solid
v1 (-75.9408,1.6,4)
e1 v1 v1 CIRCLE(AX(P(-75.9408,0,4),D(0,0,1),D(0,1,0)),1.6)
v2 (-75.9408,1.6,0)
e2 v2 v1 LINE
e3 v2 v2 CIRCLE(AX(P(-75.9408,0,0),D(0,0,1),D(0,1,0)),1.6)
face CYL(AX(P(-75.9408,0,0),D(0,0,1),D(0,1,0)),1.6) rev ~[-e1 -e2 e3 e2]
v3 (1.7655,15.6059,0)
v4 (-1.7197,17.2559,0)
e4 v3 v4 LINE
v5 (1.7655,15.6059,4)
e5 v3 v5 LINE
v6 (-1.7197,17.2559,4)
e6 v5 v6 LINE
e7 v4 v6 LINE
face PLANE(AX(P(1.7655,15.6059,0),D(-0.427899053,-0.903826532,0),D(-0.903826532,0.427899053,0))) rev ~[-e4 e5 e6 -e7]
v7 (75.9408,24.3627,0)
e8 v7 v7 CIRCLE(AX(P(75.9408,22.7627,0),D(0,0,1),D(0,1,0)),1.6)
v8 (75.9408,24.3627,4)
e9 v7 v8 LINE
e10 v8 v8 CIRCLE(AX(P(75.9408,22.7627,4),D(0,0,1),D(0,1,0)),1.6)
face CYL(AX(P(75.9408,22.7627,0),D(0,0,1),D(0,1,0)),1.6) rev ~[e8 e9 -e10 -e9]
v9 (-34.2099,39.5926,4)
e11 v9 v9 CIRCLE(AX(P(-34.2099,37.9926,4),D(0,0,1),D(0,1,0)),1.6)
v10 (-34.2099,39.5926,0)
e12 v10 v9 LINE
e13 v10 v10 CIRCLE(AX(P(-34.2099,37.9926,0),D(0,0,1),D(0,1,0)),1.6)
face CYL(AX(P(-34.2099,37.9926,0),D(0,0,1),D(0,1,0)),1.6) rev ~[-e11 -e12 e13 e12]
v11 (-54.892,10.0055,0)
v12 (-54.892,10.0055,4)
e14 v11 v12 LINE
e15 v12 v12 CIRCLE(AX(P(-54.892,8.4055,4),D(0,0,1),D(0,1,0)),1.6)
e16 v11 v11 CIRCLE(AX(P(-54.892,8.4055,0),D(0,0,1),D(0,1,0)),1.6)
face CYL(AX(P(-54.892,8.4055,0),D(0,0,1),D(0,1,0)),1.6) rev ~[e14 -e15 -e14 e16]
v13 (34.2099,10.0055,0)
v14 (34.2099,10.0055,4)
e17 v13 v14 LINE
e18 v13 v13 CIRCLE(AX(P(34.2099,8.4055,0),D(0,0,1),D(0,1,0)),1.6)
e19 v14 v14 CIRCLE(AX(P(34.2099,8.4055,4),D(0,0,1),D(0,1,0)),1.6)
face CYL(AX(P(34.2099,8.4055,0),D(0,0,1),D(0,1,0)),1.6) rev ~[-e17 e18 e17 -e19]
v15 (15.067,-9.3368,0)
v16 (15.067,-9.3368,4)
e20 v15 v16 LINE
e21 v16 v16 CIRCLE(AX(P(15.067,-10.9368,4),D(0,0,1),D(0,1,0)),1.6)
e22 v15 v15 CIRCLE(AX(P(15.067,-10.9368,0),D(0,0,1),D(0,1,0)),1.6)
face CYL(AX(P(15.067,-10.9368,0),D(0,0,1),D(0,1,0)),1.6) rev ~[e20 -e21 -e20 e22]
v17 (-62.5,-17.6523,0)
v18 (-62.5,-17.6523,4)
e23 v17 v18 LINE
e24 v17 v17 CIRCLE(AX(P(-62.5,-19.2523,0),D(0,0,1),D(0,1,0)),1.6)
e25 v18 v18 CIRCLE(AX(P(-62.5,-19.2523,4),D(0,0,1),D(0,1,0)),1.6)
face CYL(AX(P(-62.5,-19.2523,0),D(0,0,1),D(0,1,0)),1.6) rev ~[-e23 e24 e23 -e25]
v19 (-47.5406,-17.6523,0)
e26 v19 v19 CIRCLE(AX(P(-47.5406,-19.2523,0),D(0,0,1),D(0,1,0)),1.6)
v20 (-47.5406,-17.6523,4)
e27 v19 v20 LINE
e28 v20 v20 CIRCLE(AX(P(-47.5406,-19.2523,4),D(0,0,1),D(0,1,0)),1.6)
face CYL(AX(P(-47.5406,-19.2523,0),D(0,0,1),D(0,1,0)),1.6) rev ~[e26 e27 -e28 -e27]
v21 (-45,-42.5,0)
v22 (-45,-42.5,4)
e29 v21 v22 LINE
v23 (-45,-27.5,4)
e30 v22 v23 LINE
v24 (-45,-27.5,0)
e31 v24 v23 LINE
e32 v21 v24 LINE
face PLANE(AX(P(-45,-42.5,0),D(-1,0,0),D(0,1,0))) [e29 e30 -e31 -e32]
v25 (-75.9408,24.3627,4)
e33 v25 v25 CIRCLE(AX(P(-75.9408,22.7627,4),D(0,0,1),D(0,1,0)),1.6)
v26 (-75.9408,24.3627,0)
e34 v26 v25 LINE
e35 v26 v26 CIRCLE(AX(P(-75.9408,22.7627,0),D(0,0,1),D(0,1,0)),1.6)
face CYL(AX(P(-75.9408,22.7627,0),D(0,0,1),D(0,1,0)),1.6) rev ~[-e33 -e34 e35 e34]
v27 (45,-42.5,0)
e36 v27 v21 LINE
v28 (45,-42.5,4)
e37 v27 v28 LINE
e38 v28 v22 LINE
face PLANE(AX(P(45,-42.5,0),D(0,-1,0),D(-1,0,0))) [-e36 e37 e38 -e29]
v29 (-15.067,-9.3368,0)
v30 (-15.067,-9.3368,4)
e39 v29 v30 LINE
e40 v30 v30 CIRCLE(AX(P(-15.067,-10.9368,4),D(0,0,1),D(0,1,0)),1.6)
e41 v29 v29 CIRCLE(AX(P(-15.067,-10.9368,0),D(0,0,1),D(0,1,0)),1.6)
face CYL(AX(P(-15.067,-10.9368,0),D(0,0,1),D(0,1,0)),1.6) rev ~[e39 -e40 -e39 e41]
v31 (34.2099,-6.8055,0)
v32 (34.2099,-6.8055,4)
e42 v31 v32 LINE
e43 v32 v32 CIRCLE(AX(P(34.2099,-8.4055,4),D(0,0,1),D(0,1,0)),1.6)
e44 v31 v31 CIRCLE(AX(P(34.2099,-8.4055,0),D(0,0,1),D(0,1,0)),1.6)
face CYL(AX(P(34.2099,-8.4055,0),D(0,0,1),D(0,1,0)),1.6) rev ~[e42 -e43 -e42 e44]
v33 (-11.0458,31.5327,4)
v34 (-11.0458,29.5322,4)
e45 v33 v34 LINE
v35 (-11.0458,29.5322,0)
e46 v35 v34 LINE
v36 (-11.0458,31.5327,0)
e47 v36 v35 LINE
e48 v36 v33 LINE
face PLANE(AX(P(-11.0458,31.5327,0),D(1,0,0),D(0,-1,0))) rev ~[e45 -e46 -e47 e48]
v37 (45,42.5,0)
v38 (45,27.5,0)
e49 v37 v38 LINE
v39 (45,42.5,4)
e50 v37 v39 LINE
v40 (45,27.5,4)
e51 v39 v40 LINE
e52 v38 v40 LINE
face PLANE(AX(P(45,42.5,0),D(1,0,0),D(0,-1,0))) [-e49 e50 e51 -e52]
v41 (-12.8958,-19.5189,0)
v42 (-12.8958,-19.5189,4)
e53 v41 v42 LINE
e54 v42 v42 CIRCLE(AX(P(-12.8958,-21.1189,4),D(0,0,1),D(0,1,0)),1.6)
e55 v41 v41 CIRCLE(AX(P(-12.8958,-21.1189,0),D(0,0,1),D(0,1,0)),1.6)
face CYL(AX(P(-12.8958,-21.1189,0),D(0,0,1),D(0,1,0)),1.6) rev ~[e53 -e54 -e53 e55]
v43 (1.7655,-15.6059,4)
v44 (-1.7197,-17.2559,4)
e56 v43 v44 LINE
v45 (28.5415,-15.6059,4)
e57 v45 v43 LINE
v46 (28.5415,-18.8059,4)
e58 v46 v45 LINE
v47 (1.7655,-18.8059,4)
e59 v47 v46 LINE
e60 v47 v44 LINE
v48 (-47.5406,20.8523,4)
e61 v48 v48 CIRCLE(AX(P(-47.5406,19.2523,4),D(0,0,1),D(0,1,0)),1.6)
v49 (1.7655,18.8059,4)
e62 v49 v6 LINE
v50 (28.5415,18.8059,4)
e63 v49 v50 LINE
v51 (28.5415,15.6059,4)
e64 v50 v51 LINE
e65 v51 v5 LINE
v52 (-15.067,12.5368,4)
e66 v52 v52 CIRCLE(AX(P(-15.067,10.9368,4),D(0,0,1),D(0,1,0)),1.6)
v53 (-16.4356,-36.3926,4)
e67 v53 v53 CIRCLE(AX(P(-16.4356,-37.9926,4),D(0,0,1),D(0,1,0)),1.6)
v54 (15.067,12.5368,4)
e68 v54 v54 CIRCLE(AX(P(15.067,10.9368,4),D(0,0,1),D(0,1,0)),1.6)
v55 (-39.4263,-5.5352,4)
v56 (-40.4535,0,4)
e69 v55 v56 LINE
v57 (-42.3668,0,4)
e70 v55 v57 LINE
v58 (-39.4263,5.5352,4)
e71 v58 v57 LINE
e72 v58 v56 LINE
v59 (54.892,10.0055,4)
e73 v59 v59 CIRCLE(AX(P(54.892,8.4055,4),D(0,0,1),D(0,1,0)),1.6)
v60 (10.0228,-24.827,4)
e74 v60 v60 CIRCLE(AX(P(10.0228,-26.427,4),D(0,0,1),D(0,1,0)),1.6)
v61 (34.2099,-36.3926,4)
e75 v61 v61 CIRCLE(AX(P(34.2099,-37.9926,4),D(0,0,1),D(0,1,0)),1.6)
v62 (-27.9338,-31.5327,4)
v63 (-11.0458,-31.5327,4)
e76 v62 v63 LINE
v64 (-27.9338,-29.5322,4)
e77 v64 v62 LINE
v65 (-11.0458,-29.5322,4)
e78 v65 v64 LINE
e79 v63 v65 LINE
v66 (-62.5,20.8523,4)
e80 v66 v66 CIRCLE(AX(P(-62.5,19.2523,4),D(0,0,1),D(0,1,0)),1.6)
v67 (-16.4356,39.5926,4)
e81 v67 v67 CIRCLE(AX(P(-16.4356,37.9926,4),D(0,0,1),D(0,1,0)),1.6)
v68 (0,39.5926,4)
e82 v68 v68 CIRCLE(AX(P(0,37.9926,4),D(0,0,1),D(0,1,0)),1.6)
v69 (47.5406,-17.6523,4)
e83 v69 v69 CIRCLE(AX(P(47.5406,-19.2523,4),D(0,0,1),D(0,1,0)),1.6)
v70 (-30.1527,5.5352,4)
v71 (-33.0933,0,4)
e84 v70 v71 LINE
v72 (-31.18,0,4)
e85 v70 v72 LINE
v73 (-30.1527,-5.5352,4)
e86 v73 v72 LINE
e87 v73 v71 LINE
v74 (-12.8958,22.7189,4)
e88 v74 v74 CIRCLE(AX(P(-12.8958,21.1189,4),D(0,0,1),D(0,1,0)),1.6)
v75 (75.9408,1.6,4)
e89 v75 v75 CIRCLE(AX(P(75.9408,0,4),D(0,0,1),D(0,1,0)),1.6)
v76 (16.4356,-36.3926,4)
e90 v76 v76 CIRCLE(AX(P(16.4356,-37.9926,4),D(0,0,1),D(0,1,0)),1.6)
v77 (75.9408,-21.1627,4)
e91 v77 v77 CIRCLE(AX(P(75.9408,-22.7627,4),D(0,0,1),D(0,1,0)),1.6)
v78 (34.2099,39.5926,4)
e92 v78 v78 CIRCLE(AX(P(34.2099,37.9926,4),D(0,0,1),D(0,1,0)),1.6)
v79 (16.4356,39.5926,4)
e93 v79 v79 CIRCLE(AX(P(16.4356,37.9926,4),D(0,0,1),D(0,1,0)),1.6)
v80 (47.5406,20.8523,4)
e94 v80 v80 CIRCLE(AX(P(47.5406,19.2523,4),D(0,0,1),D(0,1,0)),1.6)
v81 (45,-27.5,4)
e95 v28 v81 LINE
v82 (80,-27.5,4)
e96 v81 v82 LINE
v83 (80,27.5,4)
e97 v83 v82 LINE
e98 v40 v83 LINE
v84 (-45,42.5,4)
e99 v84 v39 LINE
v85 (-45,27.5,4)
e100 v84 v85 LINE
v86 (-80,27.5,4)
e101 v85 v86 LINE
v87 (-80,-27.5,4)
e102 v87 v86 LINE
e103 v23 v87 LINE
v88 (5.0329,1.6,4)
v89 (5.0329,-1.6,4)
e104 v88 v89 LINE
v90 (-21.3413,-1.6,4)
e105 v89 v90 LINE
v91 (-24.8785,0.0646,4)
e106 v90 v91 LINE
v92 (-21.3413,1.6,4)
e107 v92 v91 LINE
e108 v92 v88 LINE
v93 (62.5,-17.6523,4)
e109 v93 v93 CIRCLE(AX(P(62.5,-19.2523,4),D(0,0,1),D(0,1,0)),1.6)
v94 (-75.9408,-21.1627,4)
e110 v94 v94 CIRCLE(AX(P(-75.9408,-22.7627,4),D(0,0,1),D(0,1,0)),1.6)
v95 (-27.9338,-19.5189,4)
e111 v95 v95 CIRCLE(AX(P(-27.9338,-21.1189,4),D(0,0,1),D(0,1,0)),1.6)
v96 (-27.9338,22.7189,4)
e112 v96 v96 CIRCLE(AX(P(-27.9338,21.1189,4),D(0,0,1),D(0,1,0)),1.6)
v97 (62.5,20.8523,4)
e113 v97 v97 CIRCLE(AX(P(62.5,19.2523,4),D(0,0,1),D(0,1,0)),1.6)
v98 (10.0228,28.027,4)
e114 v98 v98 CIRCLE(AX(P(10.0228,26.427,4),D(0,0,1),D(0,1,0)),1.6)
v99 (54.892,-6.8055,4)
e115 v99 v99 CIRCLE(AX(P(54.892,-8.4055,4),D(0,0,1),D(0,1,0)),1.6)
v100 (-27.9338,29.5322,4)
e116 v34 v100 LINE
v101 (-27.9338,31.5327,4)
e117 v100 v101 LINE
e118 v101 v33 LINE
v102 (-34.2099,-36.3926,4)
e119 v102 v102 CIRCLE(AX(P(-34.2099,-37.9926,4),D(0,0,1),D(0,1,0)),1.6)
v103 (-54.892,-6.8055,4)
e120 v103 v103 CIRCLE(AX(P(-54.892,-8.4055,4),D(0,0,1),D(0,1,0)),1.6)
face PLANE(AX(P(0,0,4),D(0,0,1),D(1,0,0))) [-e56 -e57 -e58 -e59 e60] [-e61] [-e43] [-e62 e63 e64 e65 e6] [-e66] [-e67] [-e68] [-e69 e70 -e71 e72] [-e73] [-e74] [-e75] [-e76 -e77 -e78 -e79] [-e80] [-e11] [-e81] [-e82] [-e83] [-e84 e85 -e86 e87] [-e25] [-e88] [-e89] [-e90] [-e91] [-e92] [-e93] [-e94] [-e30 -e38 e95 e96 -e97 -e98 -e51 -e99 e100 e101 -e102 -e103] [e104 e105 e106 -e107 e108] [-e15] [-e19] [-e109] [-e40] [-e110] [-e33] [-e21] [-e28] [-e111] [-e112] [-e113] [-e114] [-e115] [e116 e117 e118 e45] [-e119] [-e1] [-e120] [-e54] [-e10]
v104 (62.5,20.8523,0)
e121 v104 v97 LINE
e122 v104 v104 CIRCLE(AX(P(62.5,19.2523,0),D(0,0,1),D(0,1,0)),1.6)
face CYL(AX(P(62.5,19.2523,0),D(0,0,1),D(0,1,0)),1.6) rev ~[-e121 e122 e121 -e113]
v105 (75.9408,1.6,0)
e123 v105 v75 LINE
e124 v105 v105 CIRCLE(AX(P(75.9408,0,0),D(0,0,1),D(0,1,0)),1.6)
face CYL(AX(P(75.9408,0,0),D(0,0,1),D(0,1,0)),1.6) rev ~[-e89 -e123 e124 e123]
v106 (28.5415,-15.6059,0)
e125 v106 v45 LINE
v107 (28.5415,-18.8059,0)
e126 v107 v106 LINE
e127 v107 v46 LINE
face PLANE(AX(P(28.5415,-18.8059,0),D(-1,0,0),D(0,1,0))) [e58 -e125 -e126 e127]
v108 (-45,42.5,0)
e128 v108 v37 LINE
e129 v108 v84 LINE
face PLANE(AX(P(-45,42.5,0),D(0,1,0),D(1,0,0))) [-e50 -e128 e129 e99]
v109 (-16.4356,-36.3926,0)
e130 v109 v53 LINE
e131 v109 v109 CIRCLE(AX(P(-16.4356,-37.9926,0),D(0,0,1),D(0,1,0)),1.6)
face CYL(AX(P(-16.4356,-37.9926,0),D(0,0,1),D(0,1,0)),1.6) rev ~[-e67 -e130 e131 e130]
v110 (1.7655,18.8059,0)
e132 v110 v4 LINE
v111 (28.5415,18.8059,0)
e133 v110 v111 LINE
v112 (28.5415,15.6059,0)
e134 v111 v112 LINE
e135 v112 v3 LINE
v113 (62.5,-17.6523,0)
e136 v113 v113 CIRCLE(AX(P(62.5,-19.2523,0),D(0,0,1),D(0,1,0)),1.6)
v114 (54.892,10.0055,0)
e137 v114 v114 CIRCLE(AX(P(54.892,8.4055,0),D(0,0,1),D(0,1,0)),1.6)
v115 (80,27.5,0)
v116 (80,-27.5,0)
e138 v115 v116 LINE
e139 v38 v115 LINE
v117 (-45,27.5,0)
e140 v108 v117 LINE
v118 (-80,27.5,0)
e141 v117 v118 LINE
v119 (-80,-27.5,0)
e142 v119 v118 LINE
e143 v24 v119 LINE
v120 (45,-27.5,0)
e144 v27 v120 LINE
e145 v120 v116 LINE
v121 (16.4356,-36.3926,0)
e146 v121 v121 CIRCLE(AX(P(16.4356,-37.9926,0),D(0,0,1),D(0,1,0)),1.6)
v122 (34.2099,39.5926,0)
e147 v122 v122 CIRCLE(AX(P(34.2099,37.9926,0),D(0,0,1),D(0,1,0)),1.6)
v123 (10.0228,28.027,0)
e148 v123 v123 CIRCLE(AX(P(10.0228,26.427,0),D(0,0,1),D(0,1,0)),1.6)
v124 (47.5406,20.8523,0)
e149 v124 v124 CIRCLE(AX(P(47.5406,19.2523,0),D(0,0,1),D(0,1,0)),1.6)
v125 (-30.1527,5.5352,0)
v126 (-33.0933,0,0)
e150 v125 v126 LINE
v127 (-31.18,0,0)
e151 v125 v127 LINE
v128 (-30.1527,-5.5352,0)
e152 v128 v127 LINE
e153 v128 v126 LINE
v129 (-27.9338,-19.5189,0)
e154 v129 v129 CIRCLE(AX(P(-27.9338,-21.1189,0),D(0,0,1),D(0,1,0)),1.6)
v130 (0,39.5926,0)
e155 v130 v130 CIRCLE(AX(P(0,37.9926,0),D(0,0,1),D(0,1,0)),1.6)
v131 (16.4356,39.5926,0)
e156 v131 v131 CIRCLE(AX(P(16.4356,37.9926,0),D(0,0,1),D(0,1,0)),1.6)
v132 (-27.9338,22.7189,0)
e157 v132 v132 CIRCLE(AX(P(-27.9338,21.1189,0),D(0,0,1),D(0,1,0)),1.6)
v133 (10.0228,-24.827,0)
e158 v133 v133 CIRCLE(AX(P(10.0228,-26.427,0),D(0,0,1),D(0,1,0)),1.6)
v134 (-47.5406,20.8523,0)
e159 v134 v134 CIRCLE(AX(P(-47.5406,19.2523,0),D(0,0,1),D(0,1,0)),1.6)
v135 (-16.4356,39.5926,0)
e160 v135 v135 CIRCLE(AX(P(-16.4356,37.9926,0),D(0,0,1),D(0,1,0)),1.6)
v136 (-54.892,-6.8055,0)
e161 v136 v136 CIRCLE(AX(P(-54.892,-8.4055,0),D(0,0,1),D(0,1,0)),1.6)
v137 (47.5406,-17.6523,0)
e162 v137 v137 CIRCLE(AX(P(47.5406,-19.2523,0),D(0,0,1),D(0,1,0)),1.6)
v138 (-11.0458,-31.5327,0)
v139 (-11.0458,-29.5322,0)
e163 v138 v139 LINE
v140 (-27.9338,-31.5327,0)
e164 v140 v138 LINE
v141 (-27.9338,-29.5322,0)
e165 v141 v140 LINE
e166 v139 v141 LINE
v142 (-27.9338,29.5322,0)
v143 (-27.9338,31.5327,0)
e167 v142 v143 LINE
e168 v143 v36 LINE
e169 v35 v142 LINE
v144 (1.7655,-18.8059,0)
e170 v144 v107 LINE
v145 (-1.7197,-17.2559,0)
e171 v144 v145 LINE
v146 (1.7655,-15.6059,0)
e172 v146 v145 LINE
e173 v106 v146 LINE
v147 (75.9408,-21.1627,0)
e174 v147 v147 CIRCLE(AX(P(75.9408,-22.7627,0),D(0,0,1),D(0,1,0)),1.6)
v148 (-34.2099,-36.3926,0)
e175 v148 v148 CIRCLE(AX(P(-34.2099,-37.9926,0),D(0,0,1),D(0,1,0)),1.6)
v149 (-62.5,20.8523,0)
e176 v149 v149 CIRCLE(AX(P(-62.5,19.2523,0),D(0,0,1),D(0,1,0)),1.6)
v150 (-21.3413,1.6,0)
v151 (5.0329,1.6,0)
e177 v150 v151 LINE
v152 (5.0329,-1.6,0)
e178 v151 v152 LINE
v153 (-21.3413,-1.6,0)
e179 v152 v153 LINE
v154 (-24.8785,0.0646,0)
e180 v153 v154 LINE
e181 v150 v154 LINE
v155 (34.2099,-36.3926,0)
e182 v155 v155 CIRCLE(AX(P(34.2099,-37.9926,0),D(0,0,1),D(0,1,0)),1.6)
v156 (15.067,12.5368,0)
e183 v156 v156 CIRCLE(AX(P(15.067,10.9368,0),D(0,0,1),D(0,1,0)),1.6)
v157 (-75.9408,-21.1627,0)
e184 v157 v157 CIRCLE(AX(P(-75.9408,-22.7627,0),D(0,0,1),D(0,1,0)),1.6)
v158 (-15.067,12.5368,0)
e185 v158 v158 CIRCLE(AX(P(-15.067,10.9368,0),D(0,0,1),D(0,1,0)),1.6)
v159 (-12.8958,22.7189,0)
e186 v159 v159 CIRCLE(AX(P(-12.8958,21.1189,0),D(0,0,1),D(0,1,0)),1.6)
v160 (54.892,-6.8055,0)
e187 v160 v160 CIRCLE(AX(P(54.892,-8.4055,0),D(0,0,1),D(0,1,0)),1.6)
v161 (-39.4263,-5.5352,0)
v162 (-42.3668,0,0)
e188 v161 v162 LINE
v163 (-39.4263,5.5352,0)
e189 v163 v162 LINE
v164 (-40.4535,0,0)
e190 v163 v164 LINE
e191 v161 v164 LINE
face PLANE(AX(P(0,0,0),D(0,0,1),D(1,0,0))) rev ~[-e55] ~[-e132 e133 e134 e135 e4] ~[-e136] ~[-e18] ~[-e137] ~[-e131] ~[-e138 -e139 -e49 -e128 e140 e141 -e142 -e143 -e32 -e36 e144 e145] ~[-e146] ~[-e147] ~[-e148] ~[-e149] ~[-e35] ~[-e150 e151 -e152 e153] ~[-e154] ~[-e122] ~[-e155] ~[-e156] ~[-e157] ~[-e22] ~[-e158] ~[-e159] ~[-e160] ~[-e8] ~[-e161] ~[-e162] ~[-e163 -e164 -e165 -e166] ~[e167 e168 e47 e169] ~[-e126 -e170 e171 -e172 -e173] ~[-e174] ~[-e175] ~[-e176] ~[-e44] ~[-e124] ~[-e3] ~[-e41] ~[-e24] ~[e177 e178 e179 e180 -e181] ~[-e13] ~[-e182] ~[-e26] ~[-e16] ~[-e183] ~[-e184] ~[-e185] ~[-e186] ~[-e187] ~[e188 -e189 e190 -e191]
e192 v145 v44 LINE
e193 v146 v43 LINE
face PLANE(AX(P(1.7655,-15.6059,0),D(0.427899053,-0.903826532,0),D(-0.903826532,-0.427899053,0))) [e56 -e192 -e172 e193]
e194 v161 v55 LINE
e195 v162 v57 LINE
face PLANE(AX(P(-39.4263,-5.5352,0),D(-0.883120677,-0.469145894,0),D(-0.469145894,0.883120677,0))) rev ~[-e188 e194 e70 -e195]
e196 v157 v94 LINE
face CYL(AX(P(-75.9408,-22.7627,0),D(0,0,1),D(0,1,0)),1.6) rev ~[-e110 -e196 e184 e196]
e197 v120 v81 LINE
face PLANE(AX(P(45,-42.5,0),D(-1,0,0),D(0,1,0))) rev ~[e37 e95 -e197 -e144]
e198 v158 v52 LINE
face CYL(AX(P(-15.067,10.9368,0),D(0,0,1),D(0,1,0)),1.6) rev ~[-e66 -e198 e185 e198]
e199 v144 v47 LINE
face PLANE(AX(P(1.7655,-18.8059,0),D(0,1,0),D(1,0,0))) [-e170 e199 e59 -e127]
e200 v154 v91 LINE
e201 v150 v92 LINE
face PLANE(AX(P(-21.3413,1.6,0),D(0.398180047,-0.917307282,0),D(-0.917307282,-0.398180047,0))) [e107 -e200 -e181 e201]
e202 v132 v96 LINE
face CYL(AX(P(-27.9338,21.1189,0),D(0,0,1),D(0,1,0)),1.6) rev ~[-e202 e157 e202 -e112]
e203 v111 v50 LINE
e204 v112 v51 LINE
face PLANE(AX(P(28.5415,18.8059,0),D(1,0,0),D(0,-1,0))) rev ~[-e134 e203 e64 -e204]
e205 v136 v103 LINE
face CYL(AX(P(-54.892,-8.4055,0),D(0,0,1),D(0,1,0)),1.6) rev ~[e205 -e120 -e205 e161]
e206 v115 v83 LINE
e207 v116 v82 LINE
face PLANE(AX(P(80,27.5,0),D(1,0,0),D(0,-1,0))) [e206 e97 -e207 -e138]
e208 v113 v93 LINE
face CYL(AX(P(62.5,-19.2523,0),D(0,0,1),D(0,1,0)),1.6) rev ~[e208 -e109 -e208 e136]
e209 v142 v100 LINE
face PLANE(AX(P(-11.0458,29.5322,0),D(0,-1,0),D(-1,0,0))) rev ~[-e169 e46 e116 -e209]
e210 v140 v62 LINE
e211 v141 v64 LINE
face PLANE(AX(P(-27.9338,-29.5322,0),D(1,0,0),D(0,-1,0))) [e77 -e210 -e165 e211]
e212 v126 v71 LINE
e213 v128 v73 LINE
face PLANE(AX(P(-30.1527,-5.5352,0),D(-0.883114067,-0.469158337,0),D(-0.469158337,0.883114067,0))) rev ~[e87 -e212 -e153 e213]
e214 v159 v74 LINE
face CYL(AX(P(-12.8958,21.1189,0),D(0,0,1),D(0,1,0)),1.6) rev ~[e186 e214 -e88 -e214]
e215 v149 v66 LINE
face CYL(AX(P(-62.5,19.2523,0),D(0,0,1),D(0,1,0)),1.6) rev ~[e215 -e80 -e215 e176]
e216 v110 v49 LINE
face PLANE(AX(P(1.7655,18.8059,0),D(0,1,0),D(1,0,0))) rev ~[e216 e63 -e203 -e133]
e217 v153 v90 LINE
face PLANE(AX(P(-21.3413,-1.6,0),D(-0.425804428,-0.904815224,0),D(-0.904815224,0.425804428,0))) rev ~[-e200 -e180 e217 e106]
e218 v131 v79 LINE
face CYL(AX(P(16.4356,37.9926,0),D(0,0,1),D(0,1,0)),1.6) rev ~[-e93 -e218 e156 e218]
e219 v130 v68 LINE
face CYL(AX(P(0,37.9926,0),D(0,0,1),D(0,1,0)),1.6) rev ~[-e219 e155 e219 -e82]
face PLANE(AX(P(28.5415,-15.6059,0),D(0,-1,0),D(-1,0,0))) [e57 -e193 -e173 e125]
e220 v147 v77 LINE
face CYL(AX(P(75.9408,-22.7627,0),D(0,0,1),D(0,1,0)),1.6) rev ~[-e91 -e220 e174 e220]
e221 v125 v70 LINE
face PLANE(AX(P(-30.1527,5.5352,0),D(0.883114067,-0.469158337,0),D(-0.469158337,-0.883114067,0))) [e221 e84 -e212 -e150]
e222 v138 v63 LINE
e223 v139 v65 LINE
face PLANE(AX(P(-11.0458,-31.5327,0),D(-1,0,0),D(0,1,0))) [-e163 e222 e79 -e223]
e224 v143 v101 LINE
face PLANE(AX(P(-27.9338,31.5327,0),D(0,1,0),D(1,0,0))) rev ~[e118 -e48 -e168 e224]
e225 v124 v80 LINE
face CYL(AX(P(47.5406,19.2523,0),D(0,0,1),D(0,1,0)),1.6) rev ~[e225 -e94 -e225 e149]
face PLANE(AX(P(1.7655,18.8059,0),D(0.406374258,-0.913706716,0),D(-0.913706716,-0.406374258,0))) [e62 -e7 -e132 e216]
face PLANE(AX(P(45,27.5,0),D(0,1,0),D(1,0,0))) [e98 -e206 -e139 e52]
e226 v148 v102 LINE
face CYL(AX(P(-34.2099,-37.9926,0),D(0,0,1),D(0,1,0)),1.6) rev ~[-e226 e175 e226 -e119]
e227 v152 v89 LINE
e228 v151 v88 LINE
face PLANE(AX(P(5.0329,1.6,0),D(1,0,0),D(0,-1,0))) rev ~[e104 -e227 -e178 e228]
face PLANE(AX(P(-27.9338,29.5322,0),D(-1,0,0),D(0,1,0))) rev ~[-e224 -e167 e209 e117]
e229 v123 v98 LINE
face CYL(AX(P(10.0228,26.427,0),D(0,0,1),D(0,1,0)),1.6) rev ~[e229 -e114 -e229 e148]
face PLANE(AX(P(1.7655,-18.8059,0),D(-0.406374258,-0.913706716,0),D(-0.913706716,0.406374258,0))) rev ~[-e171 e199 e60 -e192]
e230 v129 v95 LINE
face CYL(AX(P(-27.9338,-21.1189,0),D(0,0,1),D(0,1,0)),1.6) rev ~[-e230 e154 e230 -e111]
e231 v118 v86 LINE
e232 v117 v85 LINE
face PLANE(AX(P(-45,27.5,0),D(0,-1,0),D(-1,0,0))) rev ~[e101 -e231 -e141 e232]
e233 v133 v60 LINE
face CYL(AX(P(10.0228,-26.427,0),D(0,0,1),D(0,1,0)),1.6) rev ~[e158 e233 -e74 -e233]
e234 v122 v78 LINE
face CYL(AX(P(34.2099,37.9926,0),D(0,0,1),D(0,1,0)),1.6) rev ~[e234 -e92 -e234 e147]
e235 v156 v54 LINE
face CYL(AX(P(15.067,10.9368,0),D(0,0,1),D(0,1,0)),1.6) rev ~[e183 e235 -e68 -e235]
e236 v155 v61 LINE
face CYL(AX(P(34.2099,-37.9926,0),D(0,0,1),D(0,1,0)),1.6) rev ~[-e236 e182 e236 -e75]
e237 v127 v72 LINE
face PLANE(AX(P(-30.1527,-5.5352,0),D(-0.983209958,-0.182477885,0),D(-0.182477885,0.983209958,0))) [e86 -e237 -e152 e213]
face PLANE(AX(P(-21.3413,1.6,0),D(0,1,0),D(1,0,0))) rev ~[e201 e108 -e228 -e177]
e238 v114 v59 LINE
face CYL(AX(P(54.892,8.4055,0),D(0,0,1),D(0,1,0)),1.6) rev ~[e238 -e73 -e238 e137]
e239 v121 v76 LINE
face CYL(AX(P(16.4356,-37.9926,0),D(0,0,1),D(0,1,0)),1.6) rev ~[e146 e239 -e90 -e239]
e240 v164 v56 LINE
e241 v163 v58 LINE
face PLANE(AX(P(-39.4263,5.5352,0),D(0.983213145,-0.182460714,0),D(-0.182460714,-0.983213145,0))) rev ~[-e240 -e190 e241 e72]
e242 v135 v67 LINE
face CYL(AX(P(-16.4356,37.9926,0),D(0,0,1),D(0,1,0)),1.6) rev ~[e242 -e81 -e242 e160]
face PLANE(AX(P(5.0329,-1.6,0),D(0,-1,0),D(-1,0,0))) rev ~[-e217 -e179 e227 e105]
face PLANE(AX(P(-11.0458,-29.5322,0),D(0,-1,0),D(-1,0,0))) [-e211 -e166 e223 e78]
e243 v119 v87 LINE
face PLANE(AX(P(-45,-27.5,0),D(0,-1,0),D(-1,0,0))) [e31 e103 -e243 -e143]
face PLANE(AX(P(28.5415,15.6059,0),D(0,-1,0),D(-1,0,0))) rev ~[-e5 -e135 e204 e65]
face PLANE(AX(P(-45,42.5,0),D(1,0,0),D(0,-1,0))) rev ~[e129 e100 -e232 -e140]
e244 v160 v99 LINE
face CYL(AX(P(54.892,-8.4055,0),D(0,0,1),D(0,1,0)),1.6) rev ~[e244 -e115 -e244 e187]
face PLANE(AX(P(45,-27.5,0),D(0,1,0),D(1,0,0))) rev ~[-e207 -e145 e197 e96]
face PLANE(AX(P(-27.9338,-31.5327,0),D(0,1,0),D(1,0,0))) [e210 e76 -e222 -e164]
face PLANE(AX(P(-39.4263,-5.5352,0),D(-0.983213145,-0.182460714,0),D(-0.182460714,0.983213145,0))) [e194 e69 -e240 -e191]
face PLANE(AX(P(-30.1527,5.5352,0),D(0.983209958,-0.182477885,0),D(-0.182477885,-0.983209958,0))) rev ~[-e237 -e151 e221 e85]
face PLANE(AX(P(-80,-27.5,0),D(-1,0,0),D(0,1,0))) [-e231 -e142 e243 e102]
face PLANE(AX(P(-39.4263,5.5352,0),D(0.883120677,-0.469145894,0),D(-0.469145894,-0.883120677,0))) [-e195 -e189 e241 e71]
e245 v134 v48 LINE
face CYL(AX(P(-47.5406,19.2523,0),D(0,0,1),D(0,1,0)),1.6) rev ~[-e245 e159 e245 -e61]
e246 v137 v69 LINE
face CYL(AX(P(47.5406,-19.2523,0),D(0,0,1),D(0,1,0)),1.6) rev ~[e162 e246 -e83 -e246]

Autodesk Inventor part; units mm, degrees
ref_plane "YZ Plane" through (0, 0, 0) normal (1, 0, 0) x (0, 1, 0)
ref_plane "XZ Plane" through (0, 0, 0) normal (0, 1, 0) x (-1, 0, 0)
ref_plane "XY Plane" through (0, 0, 0) normal (0, 0, 1) x (1, 0, 0)
sketch "草图1" plane through (0, 0, 0) normal (0, 0, 1) x (1, 0, 0)
  line L0 (45, -42.5) -> (-45, -42.5)
  line L1 (-80, -27.5) -> (-80, 27.5)
  line L2 (-45, 42.5) -> (45, 42.5)
  line L3 (80, 27.5) -> (80, -27.5)
  line L4 (80, -42.5) -> (-80, 42.5) construction
  line L5 (-80, -42.5) -> (80, 42.5) construction
  line L6 (-80, -42.5) -> (-45, -42.5) construction
  line L7 (-45, -42.5) -> (-45, -27.5)
  line L8 (-45, -27.5) -> (-80, -27.5)
  line L9 (-80, -27.5) -> (-80, -42.5) construction
  line L10 (0, 0) -> (-55.8676, 0) construction
  line L11 (0, 0) -> (0, 33.8788) construction
  line L12 (-45, 42.5) -> (-45, 27.5)
  line L13 (-45, 27.5) -> (-80, 27.5)
  line L14 (45, -42.5) -> (45, -27.5)
  line L15 (45, -27.5) -> (80, -27.5)
  line L16 (45, 27.5) -> (80, 27.5)
  line L17 (45, 42.5) -> (45, 27.5)
  line L18 (-39.4263, 5.5352) -> (-42.3668, 0)
  line L19 (-30.1527, 5.5352) -> (-33.0933, 0)
  line L20 (-39.4263, -5.5352) -> (-42.3668, 0)
  line L21 (-30.1527, -5.5352) -> (-33.0933, 0)
  line L22 (-39.4263, 5.5352) -> (-40.4535, 0)
  line L23 (-30.1527, 5.5352) -> (-31.18, 0)
  line L24 (-39.4263, -5.5352) -> (-40.4535, 0)
  line L25 (-30.1527, -5.5352) -> (-31.18, 0)
  line L26 (5.0329, -1.6) -> (-21.3413, -1.6)
  line L27 (-21.3413, 1.6) -> (5.0329, 1.6)
  line L28 (5.0329, 1.6) -> (5.0329, -1.6)
  line L29 (5.0329, -1.6) -> (-21.3413, 1.6) construction
  line L30 (-21.3413, -1.6) -> (5.0329, 1.6) construction
  line L31 (-21.3413, 1.6) -> (-25.0273, 0)
  line L32 (-21.3413, -1.6) -> (-24.8785, 0.0646)
  line L33 (-56.6923, -25.2441) -> (103.3077, 59.7559) construction
  line L34 (28.5415, 15.6059) -> (1.7655, 15.6059)
  line L35 (1.7655, 18.8059) -> (28.5415, 18.8059)
  line L36 (28.5415, 18.8059) -> (28.5415, 15.6059)
  line L37 (1.7655, 18.8059) -> (-1.7578, 17.2389)
  line L38 (1.7655, 15.6059) -> (-1.7197, 17.2559)
  line L39 (1.7655, -18.8059) -> (28.5415, -18.8059)
  line L40 (28.5415, -18.8059) -> (28.5415, -15.6059)
  line L41 (28.5415, -15.6059) -> (1.7655, -15.6059)
  line L42 (1.7655, -15.6059) -> (-1.7197, -17.2559)
  line L43 (1.7655, -18.8059) -> (-1.7578, -17.2389)
  line L44 (-27.9338, 31.5327) -> (-11.0458, 31.5327)
  line L45 (-11.0458, 31.5327) -> (-11.0458, 29.5322)
  line L46 (-11.0458, 29.5322) -> (-27.9338, 29.5322)
  line L47 (-27.9338, 29.5322) -> (-27.9338, 31.5327)
  line L48 (-27.9338, -31.5327) -> (-11.0458, -31.5327)
  line L49 (-11.0458, -31.5327) -> (-11.0458, -29.5322)
  line L50 (-11.0458, -29.5322) -> (-27.9338, -29.5322)
  line L51 (-27.9338, -29.5322) -> (-27.9338, -31.5327)
  line L52 (-21.3413, 1.6) -> (-21.3413, -1.6) construction
  point P0 (-62.5, 19.2523)
  point P1 (-47.5406, 19.2523)
  point P2 (-34.2099, 37.9926)
  point P3 (-16.4356, 37.9926)
  point P4 (-62.5, -19.2523)
  point P5 (-47.5406, -19.2523)
  point P6 (-34.2099, -37.9926)
  point P7 (-16.4356, -37.9926)
  point P8 (0, 37.9926)
  point P9 (62.5, 19.2523)
  point P10 (47.5406, 19.2523)
  point P11 (34.2099, 37.9926)
  point P12 (16.4356, 37.9926)
  point P13 (16.4356, -37.9926)
  point P14 (34.2099, -37.9926)
  point P15 (47.5406, -19.2523)
  point P16 (62.5, -19.2523)
  point P17 (-8.1542, 0)
  point P18 (-27.9338, 21.1189)
  point P19 (-12.8958, 21.1189)
  point P20 (-15.067, 10.9368)
  point P21 (-54.892, 8.4055)
  point P22 (-27.9338, -21.1189)
  point P23 (-12.8958, -21.1189)
  point P24 (-15.067, -10.9368)
  point P25 (-54.892, -8.4055)
  point P26 (54.892, 8.4055)
  point P27 (54.892, -8.4055)
  point P28 (15.067, 10.9368)
  point P29 (15.067, -10.9368)
  point P30 (34.2099, 8.4055)
  point P31 (34.2099, -8.4055)
  point P32 (10.0228, 26.427)
  point P33 (10.0228, -26.427)
  point P34 (-75.9408, -22.7627)
  point P35 (-75.9408, 22.7627)
  point P36 (75.9408, -22.7627)
  point P37 (75.9408, 22.7627)
  point P38 (-75.9408, 0)
  point P39 (75.9408, 0)
  dimension "d2" = 35
  dimension "d3" = 15
  dimension "d5" = 3.2
  dimension "d6" = 85
  dimension "d7" = 160
  dimension "d31" = 3.2
extrude "拉伸1" add sketch "草图1" along normal blind 4
hole "孔1" at (-62.5, 19.2523, 0) at (-47.5406, 19.2523, 0) at (-34.2099, 37.9926, 0) at (-16.4356, 37.9926, 0) at (-16.4356, -37.9926, 0) at (-34.2099, -37.9926, 0) at (-47.5406, -19.2523, 0) at (-62.5, -19.2523, 0) at (0, 37.9926, 0) at (34.2099, 37.9926, 0) at (16.4356, 37.9926, 0) at (47.5406, 19.2523, 0) at (62.5, 19.2523, 0) at (47.5406, -19.2523, 0) at (62.5, -19.2523, 0) at (34.2099, -37.9926, 0) at (16.4356, -37.9926, 0) at (-27.9338, 21.1189, 0) at (-12.8958, 21.1189, 0) at (-15.067, 10.9368, 0) at (-54.892, 8.4055, 0) at (-54.892, -8.4055, 0) at (-15.067, -10.9368, 0) at (-12.8958, -21.1189, 0) at (-27.9338, -21.1189, 0) at (54.892, -8.4055, 0) at (54.892, 8.4055, 0) at (15.067, 10.9368, 0) at (15.067, -10.9368, 0) at (34.2099, 8.4055, 0) at (34.2099, -8.4055, 0) at (10.0228, 26.427, 0) at (10.0228, -26.427, 0) direction (0, 0, 1) diameter 3.2 end through all
hole "孔2" at (-75.9408, -22.7627, 0) at (-75.9408, 22.7627, 0) at (75.9408, -22.7627, 0) at (75.9408, 22.7627, 0) direction (0, 0, 1) diameter 3.2 end through all
hole "孔3" at (-75.9408, 0, 0) at (75.9408, 0, 0) direction (0, 0, 1) diameter 3.2 end through all
properties part number "底盘设计3.0" material "聚碳酸酯，透明"
